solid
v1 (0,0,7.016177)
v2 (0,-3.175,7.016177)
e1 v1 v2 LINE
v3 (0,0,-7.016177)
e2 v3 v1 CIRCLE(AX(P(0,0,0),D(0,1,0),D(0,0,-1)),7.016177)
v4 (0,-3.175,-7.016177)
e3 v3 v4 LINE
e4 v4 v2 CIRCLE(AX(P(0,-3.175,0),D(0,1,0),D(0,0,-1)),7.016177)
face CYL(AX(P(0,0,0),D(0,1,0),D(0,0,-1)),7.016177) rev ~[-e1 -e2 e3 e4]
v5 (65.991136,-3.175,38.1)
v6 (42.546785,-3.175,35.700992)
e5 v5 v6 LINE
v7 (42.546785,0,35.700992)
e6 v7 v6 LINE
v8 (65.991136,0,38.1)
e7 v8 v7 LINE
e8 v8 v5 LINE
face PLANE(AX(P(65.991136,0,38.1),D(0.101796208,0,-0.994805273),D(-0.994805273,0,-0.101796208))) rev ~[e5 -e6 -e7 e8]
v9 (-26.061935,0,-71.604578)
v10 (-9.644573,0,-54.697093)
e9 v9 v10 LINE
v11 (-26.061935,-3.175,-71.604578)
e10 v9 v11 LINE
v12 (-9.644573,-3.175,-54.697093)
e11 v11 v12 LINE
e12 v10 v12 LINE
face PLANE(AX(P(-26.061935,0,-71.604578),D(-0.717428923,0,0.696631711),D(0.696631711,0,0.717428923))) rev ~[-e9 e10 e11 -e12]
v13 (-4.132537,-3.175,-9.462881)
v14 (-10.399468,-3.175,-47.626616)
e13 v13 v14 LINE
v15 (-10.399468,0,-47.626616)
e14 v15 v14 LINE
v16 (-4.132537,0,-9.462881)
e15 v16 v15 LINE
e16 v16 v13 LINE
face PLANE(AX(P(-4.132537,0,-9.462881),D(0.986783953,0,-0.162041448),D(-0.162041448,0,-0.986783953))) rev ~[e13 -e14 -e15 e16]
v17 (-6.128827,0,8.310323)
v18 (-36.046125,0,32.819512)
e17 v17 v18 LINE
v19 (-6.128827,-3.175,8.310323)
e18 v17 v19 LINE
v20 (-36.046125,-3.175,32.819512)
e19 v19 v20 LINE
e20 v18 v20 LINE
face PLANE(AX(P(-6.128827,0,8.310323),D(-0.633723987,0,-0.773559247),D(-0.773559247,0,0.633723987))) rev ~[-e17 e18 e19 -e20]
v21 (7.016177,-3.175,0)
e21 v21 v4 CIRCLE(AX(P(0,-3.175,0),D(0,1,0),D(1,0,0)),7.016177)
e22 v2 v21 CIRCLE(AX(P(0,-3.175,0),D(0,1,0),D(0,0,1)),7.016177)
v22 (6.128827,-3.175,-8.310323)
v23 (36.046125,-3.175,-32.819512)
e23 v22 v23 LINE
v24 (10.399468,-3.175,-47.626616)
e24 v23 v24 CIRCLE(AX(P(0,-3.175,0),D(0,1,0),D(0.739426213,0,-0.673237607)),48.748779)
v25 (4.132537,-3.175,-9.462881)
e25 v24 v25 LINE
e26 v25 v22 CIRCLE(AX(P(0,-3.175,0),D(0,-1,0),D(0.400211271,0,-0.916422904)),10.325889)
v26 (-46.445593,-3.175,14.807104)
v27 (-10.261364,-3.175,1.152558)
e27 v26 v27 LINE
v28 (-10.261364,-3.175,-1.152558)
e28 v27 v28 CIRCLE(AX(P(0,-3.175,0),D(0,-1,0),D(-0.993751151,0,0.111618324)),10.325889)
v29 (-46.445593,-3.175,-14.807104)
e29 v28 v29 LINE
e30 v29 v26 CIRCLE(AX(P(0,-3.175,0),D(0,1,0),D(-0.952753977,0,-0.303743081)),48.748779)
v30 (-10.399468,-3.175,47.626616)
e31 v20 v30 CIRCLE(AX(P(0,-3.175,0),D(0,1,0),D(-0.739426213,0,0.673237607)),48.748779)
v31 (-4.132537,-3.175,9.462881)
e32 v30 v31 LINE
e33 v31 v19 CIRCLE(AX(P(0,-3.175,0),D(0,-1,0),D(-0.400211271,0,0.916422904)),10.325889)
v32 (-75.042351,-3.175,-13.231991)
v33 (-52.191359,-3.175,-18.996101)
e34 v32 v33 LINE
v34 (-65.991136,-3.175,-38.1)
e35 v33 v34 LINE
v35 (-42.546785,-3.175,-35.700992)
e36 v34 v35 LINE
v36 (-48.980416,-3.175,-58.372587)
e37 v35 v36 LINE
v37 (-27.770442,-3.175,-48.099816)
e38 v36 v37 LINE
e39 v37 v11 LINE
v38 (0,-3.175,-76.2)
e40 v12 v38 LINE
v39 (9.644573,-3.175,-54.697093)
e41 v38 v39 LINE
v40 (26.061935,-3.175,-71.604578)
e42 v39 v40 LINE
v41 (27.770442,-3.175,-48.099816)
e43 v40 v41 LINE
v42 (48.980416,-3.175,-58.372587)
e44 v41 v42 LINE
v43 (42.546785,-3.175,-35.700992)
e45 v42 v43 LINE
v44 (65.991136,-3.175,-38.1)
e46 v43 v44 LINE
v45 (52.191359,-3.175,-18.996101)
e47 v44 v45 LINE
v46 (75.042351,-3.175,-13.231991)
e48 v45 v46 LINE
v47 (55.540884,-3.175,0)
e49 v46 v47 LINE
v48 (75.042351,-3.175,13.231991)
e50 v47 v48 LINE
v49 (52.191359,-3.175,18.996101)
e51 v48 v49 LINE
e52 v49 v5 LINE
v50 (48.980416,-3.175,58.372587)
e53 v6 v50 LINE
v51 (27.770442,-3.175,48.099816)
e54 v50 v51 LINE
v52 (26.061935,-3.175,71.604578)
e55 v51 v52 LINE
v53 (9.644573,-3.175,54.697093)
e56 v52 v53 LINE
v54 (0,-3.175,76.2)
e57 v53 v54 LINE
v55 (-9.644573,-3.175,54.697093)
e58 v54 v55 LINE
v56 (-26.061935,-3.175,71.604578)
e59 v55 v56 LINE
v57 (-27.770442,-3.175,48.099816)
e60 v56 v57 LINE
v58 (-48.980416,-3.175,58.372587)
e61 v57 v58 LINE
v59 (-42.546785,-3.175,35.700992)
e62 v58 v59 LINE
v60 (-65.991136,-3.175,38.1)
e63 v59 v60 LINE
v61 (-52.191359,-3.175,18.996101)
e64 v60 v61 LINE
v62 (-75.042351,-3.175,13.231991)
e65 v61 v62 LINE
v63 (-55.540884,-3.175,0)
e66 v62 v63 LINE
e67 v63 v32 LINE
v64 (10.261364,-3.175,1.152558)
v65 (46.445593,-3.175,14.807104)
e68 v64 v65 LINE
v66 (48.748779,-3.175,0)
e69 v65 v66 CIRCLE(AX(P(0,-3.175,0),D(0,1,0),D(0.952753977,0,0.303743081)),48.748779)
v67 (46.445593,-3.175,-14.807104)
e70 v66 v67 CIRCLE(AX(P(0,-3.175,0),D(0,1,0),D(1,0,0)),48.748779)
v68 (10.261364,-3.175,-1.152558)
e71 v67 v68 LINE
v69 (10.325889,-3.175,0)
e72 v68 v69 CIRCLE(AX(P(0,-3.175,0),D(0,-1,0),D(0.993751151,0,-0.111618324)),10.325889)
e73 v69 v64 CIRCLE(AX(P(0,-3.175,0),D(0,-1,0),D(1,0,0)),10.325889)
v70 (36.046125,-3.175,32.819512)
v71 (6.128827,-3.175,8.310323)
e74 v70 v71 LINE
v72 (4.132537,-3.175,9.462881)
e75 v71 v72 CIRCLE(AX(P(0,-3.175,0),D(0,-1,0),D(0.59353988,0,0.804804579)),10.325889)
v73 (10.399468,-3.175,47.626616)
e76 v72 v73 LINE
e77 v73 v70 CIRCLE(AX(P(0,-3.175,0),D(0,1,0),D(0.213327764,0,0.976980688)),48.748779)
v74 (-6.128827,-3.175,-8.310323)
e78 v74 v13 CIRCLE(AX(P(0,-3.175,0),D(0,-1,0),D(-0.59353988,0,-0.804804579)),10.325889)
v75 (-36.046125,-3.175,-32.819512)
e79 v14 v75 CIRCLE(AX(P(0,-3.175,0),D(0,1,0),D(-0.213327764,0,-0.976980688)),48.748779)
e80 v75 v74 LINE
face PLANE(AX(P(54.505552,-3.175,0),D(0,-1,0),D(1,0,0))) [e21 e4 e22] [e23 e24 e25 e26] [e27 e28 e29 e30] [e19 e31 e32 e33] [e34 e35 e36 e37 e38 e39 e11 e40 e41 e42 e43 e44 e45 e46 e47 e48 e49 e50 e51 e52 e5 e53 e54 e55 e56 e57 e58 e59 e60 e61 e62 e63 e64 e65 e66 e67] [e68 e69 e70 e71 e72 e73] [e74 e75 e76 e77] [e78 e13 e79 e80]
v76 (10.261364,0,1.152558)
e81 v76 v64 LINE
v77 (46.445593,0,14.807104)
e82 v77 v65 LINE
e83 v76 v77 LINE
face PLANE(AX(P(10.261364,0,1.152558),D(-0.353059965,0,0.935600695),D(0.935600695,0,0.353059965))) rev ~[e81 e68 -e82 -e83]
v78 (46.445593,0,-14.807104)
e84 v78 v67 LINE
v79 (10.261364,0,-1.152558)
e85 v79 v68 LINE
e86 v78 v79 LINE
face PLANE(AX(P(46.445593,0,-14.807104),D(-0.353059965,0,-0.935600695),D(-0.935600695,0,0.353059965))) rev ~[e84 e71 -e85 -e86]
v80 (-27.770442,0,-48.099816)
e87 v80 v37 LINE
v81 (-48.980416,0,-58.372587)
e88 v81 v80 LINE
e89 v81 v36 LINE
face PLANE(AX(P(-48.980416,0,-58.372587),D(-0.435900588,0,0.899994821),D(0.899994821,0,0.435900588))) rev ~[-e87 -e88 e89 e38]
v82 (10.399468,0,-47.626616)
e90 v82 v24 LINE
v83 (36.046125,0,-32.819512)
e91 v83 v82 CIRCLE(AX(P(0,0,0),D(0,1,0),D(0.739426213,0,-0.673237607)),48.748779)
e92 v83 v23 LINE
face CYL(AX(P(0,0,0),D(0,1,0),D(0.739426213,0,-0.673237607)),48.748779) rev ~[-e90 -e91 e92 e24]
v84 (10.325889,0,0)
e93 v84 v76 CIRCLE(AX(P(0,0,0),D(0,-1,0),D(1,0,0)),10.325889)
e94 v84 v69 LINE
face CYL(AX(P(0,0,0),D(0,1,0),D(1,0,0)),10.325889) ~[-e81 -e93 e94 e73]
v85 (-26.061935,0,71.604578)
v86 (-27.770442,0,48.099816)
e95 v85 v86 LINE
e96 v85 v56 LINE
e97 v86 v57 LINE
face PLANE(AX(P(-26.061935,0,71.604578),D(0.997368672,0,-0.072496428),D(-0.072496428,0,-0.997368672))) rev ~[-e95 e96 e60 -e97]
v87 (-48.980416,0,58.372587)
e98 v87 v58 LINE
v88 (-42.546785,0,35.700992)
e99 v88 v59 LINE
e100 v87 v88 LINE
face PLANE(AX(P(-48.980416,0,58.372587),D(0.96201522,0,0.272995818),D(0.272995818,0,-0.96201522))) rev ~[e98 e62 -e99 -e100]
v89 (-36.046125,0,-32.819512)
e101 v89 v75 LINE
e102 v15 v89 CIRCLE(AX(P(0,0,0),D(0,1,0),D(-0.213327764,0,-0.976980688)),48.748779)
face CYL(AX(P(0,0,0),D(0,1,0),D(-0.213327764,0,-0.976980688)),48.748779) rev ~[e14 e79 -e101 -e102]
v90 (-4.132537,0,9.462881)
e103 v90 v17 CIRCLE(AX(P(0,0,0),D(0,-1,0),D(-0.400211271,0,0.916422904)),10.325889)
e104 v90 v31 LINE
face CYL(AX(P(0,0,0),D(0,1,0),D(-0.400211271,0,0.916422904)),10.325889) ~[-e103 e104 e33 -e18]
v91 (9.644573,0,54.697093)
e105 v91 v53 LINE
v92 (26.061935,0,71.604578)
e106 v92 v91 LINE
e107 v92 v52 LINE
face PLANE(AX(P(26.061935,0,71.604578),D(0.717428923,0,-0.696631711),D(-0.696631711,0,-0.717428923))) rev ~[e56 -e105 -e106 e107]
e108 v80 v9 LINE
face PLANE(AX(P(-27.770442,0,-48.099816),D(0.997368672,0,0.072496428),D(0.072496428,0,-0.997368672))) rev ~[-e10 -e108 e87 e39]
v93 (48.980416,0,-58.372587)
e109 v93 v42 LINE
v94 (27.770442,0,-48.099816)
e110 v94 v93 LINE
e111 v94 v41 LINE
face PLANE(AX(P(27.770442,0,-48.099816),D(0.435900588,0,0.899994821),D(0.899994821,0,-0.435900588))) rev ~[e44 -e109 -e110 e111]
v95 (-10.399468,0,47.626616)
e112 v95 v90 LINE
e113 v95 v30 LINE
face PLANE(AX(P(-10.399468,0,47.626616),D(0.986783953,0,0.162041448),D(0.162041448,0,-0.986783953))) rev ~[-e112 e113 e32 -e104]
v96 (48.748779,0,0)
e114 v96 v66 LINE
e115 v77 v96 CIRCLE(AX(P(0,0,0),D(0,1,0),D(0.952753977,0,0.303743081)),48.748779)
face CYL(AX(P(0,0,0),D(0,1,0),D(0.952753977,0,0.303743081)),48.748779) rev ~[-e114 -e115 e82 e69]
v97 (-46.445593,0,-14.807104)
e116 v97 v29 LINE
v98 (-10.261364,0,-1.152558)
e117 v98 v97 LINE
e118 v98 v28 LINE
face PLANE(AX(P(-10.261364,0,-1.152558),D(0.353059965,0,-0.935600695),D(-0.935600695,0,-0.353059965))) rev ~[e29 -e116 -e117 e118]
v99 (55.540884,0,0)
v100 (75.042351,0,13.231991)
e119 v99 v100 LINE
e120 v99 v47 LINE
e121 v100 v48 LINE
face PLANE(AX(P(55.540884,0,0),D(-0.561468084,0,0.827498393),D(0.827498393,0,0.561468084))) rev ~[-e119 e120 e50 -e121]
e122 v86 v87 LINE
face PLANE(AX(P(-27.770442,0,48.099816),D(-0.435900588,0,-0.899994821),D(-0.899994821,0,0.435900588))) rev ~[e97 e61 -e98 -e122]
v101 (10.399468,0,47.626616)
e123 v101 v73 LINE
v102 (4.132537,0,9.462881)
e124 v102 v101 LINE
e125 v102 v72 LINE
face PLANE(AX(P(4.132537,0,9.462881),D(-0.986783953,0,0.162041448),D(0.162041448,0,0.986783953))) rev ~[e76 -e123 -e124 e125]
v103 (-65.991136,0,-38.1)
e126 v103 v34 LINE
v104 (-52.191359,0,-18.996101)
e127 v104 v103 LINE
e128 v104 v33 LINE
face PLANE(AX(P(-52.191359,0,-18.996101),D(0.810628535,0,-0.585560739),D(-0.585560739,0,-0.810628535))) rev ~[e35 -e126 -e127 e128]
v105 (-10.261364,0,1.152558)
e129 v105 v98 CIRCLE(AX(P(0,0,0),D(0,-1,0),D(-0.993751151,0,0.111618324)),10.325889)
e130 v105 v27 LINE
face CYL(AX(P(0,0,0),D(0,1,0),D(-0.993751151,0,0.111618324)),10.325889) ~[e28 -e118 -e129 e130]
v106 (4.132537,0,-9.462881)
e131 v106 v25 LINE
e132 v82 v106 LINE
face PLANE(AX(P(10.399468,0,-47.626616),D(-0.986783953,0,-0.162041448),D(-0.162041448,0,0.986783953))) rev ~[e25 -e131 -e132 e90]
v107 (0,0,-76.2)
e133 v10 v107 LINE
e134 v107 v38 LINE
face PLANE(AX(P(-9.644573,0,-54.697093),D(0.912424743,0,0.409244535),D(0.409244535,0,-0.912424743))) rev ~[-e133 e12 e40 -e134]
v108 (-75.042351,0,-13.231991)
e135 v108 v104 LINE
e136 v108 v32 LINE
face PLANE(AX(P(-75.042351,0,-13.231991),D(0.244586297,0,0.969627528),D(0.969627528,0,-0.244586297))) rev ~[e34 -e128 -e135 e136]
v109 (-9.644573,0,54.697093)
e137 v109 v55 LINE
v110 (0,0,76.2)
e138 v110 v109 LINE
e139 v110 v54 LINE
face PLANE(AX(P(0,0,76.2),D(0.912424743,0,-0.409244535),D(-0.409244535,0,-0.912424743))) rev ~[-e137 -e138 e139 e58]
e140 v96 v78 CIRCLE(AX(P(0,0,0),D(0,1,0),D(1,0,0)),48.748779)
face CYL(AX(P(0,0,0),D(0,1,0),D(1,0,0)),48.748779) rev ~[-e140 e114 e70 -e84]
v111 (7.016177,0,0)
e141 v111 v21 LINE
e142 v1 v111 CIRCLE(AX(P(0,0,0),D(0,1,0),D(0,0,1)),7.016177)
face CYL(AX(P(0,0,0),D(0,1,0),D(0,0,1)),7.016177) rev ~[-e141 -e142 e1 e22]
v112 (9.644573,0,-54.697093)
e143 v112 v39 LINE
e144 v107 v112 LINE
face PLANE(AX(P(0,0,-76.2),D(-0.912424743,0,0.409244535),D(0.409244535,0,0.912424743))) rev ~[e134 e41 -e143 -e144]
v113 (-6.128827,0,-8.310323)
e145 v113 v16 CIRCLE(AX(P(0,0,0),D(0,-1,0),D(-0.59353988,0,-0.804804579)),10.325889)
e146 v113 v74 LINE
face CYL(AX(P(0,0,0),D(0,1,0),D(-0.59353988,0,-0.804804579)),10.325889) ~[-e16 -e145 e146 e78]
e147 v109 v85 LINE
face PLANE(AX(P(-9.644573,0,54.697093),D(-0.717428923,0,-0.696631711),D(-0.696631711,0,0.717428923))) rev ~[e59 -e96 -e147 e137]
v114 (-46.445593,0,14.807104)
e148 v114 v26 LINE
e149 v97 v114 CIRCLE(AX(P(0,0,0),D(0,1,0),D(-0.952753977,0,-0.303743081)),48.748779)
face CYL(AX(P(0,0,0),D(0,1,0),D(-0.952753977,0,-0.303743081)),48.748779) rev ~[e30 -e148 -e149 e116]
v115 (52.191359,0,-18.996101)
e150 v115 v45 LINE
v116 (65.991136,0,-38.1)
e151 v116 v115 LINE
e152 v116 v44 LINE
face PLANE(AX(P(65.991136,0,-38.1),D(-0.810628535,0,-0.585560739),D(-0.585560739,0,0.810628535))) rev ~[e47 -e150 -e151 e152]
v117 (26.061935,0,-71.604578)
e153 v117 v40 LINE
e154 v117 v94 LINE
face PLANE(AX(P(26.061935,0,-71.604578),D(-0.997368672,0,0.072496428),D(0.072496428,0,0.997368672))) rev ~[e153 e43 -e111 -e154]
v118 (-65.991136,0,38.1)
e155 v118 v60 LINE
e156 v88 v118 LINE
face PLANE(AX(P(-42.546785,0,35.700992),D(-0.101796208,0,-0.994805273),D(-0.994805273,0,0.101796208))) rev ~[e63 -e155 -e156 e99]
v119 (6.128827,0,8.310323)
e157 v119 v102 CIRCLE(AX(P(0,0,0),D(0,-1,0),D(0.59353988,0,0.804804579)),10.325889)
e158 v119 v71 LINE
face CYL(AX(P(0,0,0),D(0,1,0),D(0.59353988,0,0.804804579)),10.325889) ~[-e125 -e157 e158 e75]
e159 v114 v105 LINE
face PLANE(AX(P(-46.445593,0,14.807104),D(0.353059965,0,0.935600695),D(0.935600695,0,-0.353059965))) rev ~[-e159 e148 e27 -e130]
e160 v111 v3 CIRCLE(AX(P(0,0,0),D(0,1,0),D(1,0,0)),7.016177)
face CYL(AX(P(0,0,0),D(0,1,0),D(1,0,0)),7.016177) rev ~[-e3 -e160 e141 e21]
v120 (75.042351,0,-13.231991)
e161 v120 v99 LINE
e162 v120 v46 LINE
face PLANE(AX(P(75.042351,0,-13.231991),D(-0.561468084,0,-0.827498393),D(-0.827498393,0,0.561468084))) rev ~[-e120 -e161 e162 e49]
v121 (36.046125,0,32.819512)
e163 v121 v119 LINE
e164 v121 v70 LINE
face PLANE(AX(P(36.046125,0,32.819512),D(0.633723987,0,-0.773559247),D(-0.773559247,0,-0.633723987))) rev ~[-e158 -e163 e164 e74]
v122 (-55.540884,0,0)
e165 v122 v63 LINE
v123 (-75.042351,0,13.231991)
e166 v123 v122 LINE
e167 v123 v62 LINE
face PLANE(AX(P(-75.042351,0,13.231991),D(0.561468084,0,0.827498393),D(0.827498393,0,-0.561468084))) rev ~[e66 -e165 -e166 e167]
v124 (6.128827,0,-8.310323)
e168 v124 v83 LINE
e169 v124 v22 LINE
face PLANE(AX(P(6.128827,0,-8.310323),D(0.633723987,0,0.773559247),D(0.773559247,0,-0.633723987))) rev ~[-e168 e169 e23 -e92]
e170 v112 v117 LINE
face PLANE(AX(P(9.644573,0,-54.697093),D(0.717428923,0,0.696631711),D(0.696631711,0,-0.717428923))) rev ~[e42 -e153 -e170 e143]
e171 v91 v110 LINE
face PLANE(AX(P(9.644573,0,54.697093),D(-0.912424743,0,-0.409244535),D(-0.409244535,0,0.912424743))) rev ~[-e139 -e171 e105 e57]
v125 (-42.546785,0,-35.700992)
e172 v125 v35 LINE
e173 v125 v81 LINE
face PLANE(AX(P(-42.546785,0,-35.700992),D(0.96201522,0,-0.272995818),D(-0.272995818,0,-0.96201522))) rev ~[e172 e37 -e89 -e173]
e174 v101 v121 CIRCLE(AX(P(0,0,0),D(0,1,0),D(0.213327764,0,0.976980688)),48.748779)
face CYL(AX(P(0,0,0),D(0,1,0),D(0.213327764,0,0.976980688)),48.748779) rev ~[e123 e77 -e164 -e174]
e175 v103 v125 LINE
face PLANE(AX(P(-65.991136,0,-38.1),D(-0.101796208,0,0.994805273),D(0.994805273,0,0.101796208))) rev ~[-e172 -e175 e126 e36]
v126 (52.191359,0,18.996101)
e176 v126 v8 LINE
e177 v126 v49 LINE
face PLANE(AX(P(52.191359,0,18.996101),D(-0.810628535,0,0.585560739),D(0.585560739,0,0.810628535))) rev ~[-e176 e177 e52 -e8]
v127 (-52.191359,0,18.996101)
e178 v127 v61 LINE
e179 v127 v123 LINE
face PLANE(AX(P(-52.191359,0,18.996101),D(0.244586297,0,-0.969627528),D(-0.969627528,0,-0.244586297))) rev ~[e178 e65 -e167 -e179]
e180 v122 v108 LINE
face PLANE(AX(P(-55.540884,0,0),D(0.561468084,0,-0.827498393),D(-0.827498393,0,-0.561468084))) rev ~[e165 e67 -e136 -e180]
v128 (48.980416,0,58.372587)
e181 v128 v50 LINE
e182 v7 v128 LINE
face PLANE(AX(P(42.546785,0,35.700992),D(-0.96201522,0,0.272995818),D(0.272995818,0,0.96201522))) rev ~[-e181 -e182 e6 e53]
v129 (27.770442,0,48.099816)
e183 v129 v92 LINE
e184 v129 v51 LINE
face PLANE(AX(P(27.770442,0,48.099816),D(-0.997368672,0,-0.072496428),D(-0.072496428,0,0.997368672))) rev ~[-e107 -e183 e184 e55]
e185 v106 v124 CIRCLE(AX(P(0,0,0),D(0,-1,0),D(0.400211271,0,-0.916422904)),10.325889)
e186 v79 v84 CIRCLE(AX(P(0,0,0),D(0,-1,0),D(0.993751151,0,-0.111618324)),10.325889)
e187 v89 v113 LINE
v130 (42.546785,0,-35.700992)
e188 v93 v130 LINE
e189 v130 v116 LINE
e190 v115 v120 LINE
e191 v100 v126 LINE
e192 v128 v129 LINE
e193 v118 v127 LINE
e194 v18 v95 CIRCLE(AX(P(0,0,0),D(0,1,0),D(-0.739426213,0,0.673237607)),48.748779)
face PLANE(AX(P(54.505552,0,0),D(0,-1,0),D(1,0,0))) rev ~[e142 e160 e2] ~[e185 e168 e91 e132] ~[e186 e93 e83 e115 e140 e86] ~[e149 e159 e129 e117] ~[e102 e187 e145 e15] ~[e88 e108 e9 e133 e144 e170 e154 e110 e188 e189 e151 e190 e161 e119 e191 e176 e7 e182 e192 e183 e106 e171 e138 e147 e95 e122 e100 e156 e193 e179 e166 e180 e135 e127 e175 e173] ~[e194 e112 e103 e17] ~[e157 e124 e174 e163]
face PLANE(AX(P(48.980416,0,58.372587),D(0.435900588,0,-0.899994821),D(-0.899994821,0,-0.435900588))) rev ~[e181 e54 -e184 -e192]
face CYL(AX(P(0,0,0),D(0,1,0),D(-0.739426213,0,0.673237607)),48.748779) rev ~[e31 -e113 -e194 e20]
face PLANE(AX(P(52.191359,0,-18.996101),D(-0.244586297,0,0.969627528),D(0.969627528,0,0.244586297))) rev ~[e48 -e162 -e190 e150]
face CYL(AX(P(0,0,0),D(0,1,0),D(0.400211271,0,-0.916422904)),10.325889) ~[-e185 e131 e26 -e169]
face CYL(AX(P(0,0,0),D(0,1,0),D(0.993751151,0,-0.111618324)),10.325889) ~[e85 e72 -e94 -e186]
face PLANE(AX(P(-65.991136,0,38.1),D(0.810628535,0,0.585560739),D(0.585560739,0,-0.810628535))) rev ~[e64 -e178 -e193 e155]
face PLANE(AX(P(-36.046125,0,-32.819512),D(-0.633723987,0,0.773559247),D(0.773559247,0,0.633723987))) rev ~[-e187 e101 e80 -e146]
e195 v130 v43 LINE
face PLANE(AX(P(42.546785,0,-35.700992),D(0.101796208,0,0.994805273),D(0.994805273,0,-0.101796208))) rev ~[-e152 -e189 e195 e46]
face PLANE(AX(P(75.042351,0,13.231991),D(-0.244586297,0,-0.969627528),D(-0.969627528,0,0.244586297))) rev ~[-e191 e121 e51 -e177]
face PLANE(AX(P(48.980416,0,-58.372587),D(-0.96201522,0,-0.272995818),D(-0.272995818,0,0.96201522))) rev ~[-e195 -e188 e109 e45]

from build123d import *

# Parameters (mm, degrees)
F1_DEPTH = 3.175


with BuildPart() as f1:
    # F0 (on Front) → F1 (new body)
    with BuildSketch(Plane.XZ):
        with BuildLine():
            ThreePointArc((54.0144752369, 1.0356873286), (54.0219214454, 0.5178674576), (54.0244035909, 0))
            ThreePointArc((54.0244035909, 0), (54.0219214454, -0.5178674576), (54.0144752369, -1.0356873286))
            Line((54.0144752369, -1.0356873286), (55.5408836359, 0))
            Line((55.5408836359, 0), (54.0144752369, 1.0356873286))
        make_face()
        with BuildLine():
            ThreePointArc((51.1112297243, 17.5008108221), (53.2036515082, 9.3812392331), (54.0144752369, 1.0356873286))
            Line((54.0144752369, 1.0356873286), (55.5408836359, 0))
            Line((55.5408836359, 0), (75.0423507795, 13.2319911382))
            Line((75.0423507795, 13.2319911382), (52.1913585045, 18.9961009816))
            Line((52.1913585045, 18.9961009816), (51.1112297243, 17.5008108221))
        make_face()
        with BuildLine():
            Line((55.5408836359, 0), (54.0144752369, -1.0356873286))
            ThreePointArc((54.0144752369, -1.0356873286), (53.2036515082, -9.3812392331), (51.1112297243, -17.5008108221))
            Line((51.1112297243, -17.5008108221), (52.1913585045, -18.9961009816))
            Line((52.1913585045, -18.9961009816), (75.0423507795, -13.2319911382))
            Line((75.0423507795, -13.2319911382), (55.5408836359, 0))
        make_face()
        with BuildLine():
            ThreePointArc((50.4027778671, 19.4472663023), (50.7663333968, 18.4774342593), (51.1112297243, 17.5008108221))
            Line((51.1112297243, 17.5008108221), (52.1913585045, 18.9961009816))
            Line((52.1913585045, 18.9961009816), (50.4027778671, 19.4472663023))
        make_face()
        with BuildLine():
            Line((52.1913585045, -18.9961009816), (51.1112297243, -17.5008108221))
            ThreePointArc((51.1112297243, -17.5008108221), (50.7663333968, -18.4774342593), (50.4027778671, -19.4472663023))
            Line((50.4027778671, -19.4472663023), (52.1913585045, -18.9961009816))
        make_face()
        with BuildLine():
            ThreePointArc((42.0432155855, 33.9264529031), (46.786505934, 27.0122017955), (50.4027778671, 19.4472663023))
            Line((50.4027778671, 19.4472663023), (52.1913585045, 18.9961009816))
            Line((52.1913585045, 18.9961009816), (65.9911357684, 38.1))
            Line((65.9911357684, 38.1), (42.5467852752, 35.7009918322))
            Line((42.5467852752, 35.7009918322), (42.0432155855, 33.9264529031))
        make_face()
        with BuildLine():
            Line((52.1913585045, -18.9961009816), (50.4027778671, -19.4472663023))
            ThreePointArc((50.4027778671, -19.4472663023), (46.786505934, -27.0122017955), (42.0432155855, -33.9264529031))
            Line((42.0432155855, -33.9264529031), (42.5467852752, -35.7009918322))
            Line((42.5467852752, -35.7009918322), (65.9911357684, -38.1))
            Line((65.9911357684, -38.1), (52.1913585045, -18.9961009816))
        make_face()
        with BuildLine():
            ThreePointArc((40.7117616209, 35.5132179488), (41.3850941636, 34.726217249), (42.0432155855, 33.9264529031))
            Line((42.0432155855, 33.9264529031), (42.5467852752, 35.7009918322))
            Line((42.5467852752, 35.7009918322), (40.7117616209, 35.5132179488))
        make_face()
        with BuildLine():
            Line((42.5467852752, -35.7009918322), (42.0432155855, -33.9264529031))
            ThreePointArc((42.0432155855, -33.9264529031), (41.3850941636, -34.726217249), (40.7117616209, -35.5132179488))
            Line((40.7117616209, -35.5132179488), (42.5467852752, -35.7009918322))
        make_face()
        with BuildLine():
            ThreePointArc((27.9041691553, 46.2600640629), (34.726217249, 41.3850941636), (40.7117616209, 35.5132179488))
            Line((40.7117616209, 35.5132179488), (42.5467852752, 35.7009918322))
            Line((42.5467852752, 35.7009918322), (48.9804158581, 58.3725865657))
            Line((48.9804158581, 58.3725865657), (27.7704418179, 48.0998161773))
            Line((27.7704418179, 48.0998161773), (27.9041691553, 46.2600640629))
        make_face()
        with BuildLine():
            Line((42.5467852752, -35.7009918322), (40.7117616209, -35.5132179488))
            ThreePointArc((40.7117616209, -35.5132179488), (34.726217249, -41.3850941636), (27.9041691553, -46.2600640629))
            Line((27.9041691553, -46.2600640629), (27.7704418179, -48.0998161773))
            Line((27.7704418179, -48.0998161773), (48.9804158581, -58.3725865657))
            Line((48.9804158581, -58.3725865657), (42.5467852752, -35.7009918322))
        make_face()
        with BuildLine():
            ThreePointArc((26.1103060815, 47.2957513915), (27.0122017955, 46.786505934), (27.9041691553, 46.2600640629))
            Line((27.9041691553, 46.2600640629), (27.7704418179, 48.0998161773))
            Line((27.7704418179, 48.0998161773), (26.1103060815, 47.2957513915))
        make_face()
        with BuildLine():
            Line((27.7704418179, -48.0998161773), (27.9041691553, -46.2600640629))
            ThreePointArc((27.9041691553, -46.2600640629), (27.0122017955, -46.786505934), (26.1103060815, -47.2957513915))
            Line((26.1103060815, -47.2957513915), (27.7704418179, -48.0998161773))
        make_face()
        with BuildLine():
            ThreePointArc((10.3994681034, 53.0140287709), (18.4774342593, 50.7663333968), (26.1103060815, 47.2957513915))
            Line((26.1103060815, 47.2957513915), (27.7704418179, 48.0998161773))
            Line((27.7704418179, 48.0998161773), (26.0619349214, 71.6045777039))
            Line((26.0619349214, 71.6045777039), (9.6445732294, 54.6970928137))
            Line((9.6445732294, 54.6970928137), (10.3994681034, 53.0140287709))
        make_face()
        with BuildLine():
            Line((27.7704418179, -48.0998161773), (26.1103060815, -47.2957513915))
            ThreePointArc((26.1103060815, -47.2957513915), (18.4774342593, -50.7663333968), (10.3994681034, -53.0140287709))
            Line((10.3994681034, -53.0140287709), (9.6445732294, -54.6970928137))
            Line((9.6445732294, -54.6970928137), (26.0619349214, -71.6045777039))
            Line((26.0619349214, -71.6045777039), (27.7704418179, -48.0998161773))
        make_face()
        with BuildLine():
            ThreePointArc((8.3595622817, 53.3737192054), (9.3812392331, 53.2036515082), (10.3994681034, 53.0140287709))
            Line((10.3994681034, 53.0140287709), (9.6445732294, 54.6970928137))
            Line((9.6445732294, 54.6970928137), (8.3595622817, 53.3737192054))
        make_face()
        with BuildLine():
            Line((9.6445732294, -54.6970928137), (10.3994681034, -53.0140287709))
            ThreePointArc((10.3994681034, -53.0140287709), (9.3812392331, -53.2036515082), (8.3595622817, -53.3737192054))
            Line((8.3595622817, -53.3737192054), (9.6445732294, -54.6970928137))
        make_face()
        with BuildLine():
            ThreePointArc((0, 54.0244035909), (4.1924238726, 53.8614868475), (8.3595622817, 53.3737192054))
            Line((8.3595622817, 53.3737192054), (9.6445732294, 54.6970928137))
            Line((9.6445732294, 54.6970928137), (0, 76.2))
            Line((0, 76.2), (-9.6445732294, 54.6970928137))
            Line((-9.6445732294, 54.6970928137), (-8.3595622817, 53.3737192054))
            ThreePointArc((-8.3595622817, 53.3737192054), (-4.1924238726, 53.8614868475), (0, 54.0244035909))
        make_face()
        with BuildLine():
            Line((9.6445732294, -54.6970928137), (8.3595622817, -53.3737192054))
            ThreePointArc((8.3595622817, -53.3737192054), (4.1924238726, -53.8614868475), (0, -54.0244035909))
            ThreePointArc((0, -54.0244035909), (-4.1924238726, -53.8614868475), (-8.3595622817, -53.3737192054))
            Line((-8.3595622817, -53.3737192054), (-9.6445732294, -54.6970928137))
            Line((-9.6445732294, -54.6970928137), (0, -76.2))
            Line((0, -76.2), (9.6445732294, -54.6970928137))
        make_face()
        with BuildLine():
            ThreePointArc((-10.3994681034, 53.0140287709), (-9.3812392331, 53.2036515082), (-8.3595622817, 53.3737192054))
            Line((-8.3595622817, 53.3737192054), (-9.6445732294, 54.6970928137))
            Line((-9.6445732294, 54.6970928137), (-10.3994681034, 53.0140287709))
        make_face()
        with BuildLine():
            Line((-10.3994681034, 53.0140287709), (-9.6445732294, 54.6970928137))
            Line((-9.6445732294, 54.6970928137), (-26.0619349214, 71.6045777039))
            Line((-26.0619349214, 71.6045777039), (-27.7704418179, 48.0998161773))
            Line((-27.7704418179, 48.0998161773), (-26.1103060815, 47.2957513915))
            ThreePointArc((-26.1103060815, 47.2957513915), (-18.4774342593, 50.7663333968), (-10.3994681034, 53.0140287709))
        make_face()
        with BuildLine():
            Line((-9.6445732294, -54.6970928137), (-8.3595622817, -53.3737192054))
            ThreePointArc((-8.3595622817, -53.3737192054), (-9.3812392331, -53.2036515082), (-10.3994681034, -53.0140287709))
            Line((-10.3994681034, -53.0140287709), (-9.6445732294, -54.6970928137))
        make_face()
        with BuildLine():
            Line((-26.0619349214, -71.6045777039), (-9.6445732294, -54.6970928137))
            Line((-9.6445732294, -54.6970928137), (-10.3994681034, -53.0140287709))
            ThreePointArc((-10.3994681034, -53.0140287709), (-18.4774342593, -50.7663333968), (-26.1103060815, -47.2957513915))
            Line((-26.1103060815, -47.2957513915), (-27.7704418179, -48.0998161773))
            Line((-27.7704418179, -48.0998161773), (-26.0619349214, -71.6045777039))
        make_face()
        with BuildLine():
            ThreePointArc((-27.9041691553, 46.2600640629), (-27.0122017955, 46.786505934), (-26.1103060815, 47.2957513915))
            Line((-26.1103060815, 47.2957513915), (-27.7704418179, 48.0998161773))
            Line((-27.7704418179, 48.0998161773), (-27.9041691553, 46.2600640629))
        make_face()
        with BuildLine():
            Line((-27.9041691553, 46.2600640629), (-27.7704418179, 48.0998161773))
            Line((-27.7704418179, 48.0998161773), (-48.9804158581, 58.3725865657))
            Line((-48.9804158581, 58.3725865657), (-42.5467852752, 35.7009918322))
            Line((-42.5467852752, 35.7009918322), (-40.7117616209, 35.5132179488))
            ThreePointArc((-40.7117616209, 35.5132179488), (-34.726217249, 41.3850941636), (-27.9041691553, 46.2600640629))
        make_face()
        with BuildLine():
            Line((-27.7704418179, -48.0998161773), (-26.1103060815, -47.2957513915))
            ThreePointArc((-26.1103060815, -47.2957513915), (-27.0122017955, -46.786505934), (-27.9041691553, -46.2600640629))
            Line((-27.9041691553, -46.2600640629), (-27.7704418179, -48.0998161773))
        make_face()
        with BuildLine():
            Line((-48.9804158581, -58.3725865657), (-27.7704418179, -48.0998161773))
            Line((-27.7704418179, -48.0998161773), (-27.9041691553, -46.2600640629))
            ThreePointArc((-27.9041691553, -46.2600640629), (-34.726217249, -41.3850941636), (-40.7117616209, -35.5132179488))
            Line((-40.7117616209, -35.5132179488), (-42.5467852752, -35.7009918322))
            Line((-42.5467852752, -35.7009918322), (-48.9804158581, -58.3725865657))
        make_face()
        with BuildLine():
            ThreePointArc((-42.0432155855, 33.9264529031), (-41.3850941636, 34.726217249), (-40.7117616209, 35.5132179488))
            Line((-40.7117616209, 35.5132179488), (-42.5467852752, 35.7009918322))
            Line((-42.5467852752, 35.7009918322), (-42.0432155855, 33.9264529031))
        make_face()
        with BuildLine():
            Line((-42.0432155855, 33.9264529031), (-42.5467852752, 35.7009918322))
            Line((-42.5467852752, 35.7009918322), (-65.9911357684, 38.1))
            Line((-65.9911357684, 38.1), (-52.1913585045, 18.9961009816))
            Line((-52.1913585045, 18.9961009816), (-50.4027778671, 19.4472663023))
            ThreePointArc((-50.4027778671, 19.4472663023), (-46.786505934, 27.0122017955), (-42.0432155855, 33.9264529031))
        make_face()
        with BuildLine():
            Line((-42.5467852752, -35.7009918322), (-40.7117616209, -35.5132179488))
            ThreePointArc((-40.7117616209, -35.5132179488), (-41.3850941636, -34.726217249), (-42.0432155855, -33.9264529031))
            Line((-42.0432155855, -33.9264529031), (-42.5467852752, -35.7009918322))
        make_face()
        with BuildLine():
            Line((-65.9911357684, -38.1), (-42.5467852752, -35.7009918322))
            Line((-42.5467852752, -35.7009918322), (-42.0432155855, -33.9264529031))
            ThreePointArc((-42.0432155855, -33.9264529031), (-46.786505934, -27.0122017955), (-50.4027778671, -19.4472663023))
            Line((-50.4027778671, -19.4472663023), (-52.1913585045, -18.9961009816))
            Line((-52.1913585045, -18.9961009816), (-65.9911357684, -38.1))
        make_face()
        with BuildLine():
            ThreePointArc((-51.1112297243, 17.5008108221), (-50.7663333968, 18.4774342593), (-50.4027778671, 19.4472663023))
            Line((-50.4027778671, 19.4472663023), (-52.1913585045, 18.9961009816))
            Line((-52.1913585045, 18.9961009816), (-51.1112297243, 17.5008108221))
        make_face()
        with BuildLine():
            Line((-51.1112297243, 17.5008108221), (-52.1913585045, 18.9961009816))
            Line((-52.1913585045, 18.9961009816), (-75.0423507795, 13.2319911382))
            Line((-75.0423507795, 13.2319911382), (-55.5408836359, 0))
            Line((-55.5408836359, 0), (-54.0144752369, 1.0356873286))
            ThreePointArc((-54.0144752369, 1.0356873286), (-53.2036515082, 9.3812392331), (-51.1112297243, 17.5008108221))
        make_face()
        with BuildLine():
            Line((-52.1913585045, -18.9961009816), (-50.4027778671, -19.4472663023))
            ThreePointArc((-50.4027778671, -19.4472663023), (-50.7663333968, -18.4774342593), (-51.1112297243, -17.5008108221))
            Line((-51.1112297243, -17.5008108221), (-52.1913585045, -18.9961009816))
        make_face()
        with BuildLine():
            Line((-75.0423507795, -13.2319911382), (-52.1913585045, -18.9961009816))
            Line((-52.1913585045, -18.9961009816), (-51.1112297243, -17.5008108221))
            ThreePointArc((-51.1112297243, -17.5008108221), (-53.2036515082, -9.3812392331), (-54.0144752369, -1.0356873286))
            Line((-54.0144752369, -1.0356873286), (-55.5408836359, 0))
            Line((-55.5408836359, 0), (-75.0423507795, -13.2319911382))
        make_face()
        with BuildLine():
            ThreePointArc((-54.0144752369, -1.0356873286), (-54.0244035909, 0), (-54.0144752369, 1.0356873286))
            Line((-54.0144752369, 1.0356873286), (-55.5408836359, 0))
            Line((-55.5408836359, 0), (-54.0144752369, -1.0356873286))
        make_face()
        with BuildLine():
            Line((-6.1288269347, 8.3103227771), (-36.0461253584, 32.8195115967))
            ThreePointArc((-36.0461253584, 32.8195115967), (-42.2176813799, 24.3743897093), (-46.4455934617, 14.80710447))
            Line((-46.4455934617, 14.80710447), (-10.261364106, 1.1525584323))
            ThreePointArc((-10.261364106, 1.1525584323), (-8.9424822164, 5.1629445149), (-6.1288269347, 8.3103227771))
        make_face()
        with BuildLine():
            Line((0, 48.7487794185), (0, 54.0244035909))
            ThreePointArc((0, 54.0244035909), (-4.1924238726, 53.8614868475), (-8.3595622817, 53.3737192054))
            ThreePointArc((-8.3595622817, 53.3737192054), (-9.3812392331, 53.2036515082), (-10.3994681034, 53.0140287709))
            ThreePointArc((-10.3994681034, 53.0140287709), (-18.4774342593, 50.7663333968), (-26.1103060815, 47.2957513915))
            ThreePointArc((-26.1103060815, 47.2957513915), (-27.0122017955, 46.786505934), (-27.9041691553, 46.2600640629))
            ThreePointArc((-27.9041691553, 46.2600640629), (-34.726217249, 41.3850941636), (-40.7117616209, 35.5132179488))
            ThreePointArc((-40.7117616209, 35.5132179488), (-41.3850941636, 34.726217249), (-42.0432155855, 33.9264529031))
            ThreePointArc((-42.0432155855, 33.9264529031), (-46.786505934, 27.0122017955), (-50.4027778671, 19.4472663023))
            ThreePointArc((-50.4027778671, 19.4472663023), (-50.7663333968, 18.4774342593), (-51.1112297243, 17.5008108221))
            ThreePointArc((-51.1112297243, 17.5008108221), (-53.2036515082, 9.3812392331), (-54.0144752369, 1.0356873286))
            ThreePointArc((-54.0144752369, 1.0356873286), (-54.0244035909, 0), (-54.0144752369, -1.0356873286))
            ThreePointArc((-54.0144752369, -1.0356873286), (-53.2036515082, -9.3812392331), (-51.1112297243, -17.5008108221))
            ThreePointArc((-51.1112297243, -17.5008108221), (-50.7663333968, -18.4774342593), (-50.4027778671, -19.4472663023))
            ThreePointArc((-50.4027778671, -19.4472663023), (-46.786505934, -27.0122017955), (-42.0432155855, -33.9264529031))
            ThreePointArc((-42.0432155855, -33.9264529031), (-41.3850941636, -34.726217249), (-40.7117616209, -35.5132179488))
            ThreePointArc((-40.7117616209, -35.5132179488), (-34.726217249, -41.3850941636), (-27.9041691553, -46.2600640629))
            ThreePointArc((-27.9041691553, -46.2600640629), (-27.0122017955, -46.786505934), (-26.1103060815, -47.2957513915))
            ThreePointArc((-26.1103060815, -47.2957513915), (-18.4774342593, -50.7663333968), (-10.3994681034, -53.0140287709))
            ThreePointArc((-10.3994681034, -53.0140287709), (-9.3812392331, -53.2036515082), (-8.3595622817, -53.3737192054))
            ThreePointArc((-8.3595622817, -53.3737192054), (-4.1924238726, -53.8614868475), (0, -54.0244035909))
            Line((0, -54.0244035909), (0, -48.7487794185))
            ThreePointArc((0, -48.7487794185), (-5.2299184368, -48.4674266693), (-10.3994681034, -47.6266160667))
            ThreePointArc((-10.3994681034, -47.6266160667), (-24.3743897093, -42.2176813799), (-36.0461253584, -32.8195115967))
            ThreePointArc((-36.0461253584, -32.8195115967), (-42.2176813799, -24.3743897093), (-46.4455934617, -14.80710447))
            ThreePointArc((-46.4455934617, -14.80710447), (-48.7487794185, 0), (-46.4455934617, 14.80710447))
            ThreePointArc((-46.4455934617, 14.80710447), (-42.2176813799, 24.3743897093), (-36.0461253584, 32.8195115967))
            ThreePointArc((-36.0461253584, 32.8195115967), (-24.3743897093, 42.2176813799), (-10.3994681034, 47.6266160667))
            ThreePointArc((-10.3994681034, 47.6266160667), (-5.2299184368, 48.4674266693), (0, 48.7487794185))
        make_face()
        with BuildLine():
            ThreePointArc((54.0144752369, -1.0356873286), (54.0219214454, -0.5178674576), (54.0244035909, 0))
            ThreePointArc((54.0244035909, 0), (54.0219214454, 0.5178674576), (54.0144752369, 1.0356873286))
            ThreePointArc((54.0144752369, 1.0356873286), (53.2036515082, 9.3812392331), (51.1112297243, 17.5008108221))
            ThreePointArc((51.1112297243, 17.5008108221), (50.7663333968, 18.4774342593), (50.4027778671, 19.4472663023))
            ThreePointArc((50.4027778671, 19.4472663023), (46.786505934, 27.0122017955), (42.0432155855, 33.9264529031))
            ThreePointArc((42.0432155855, 33.9264529031), (41.3850941636, 34.726217249), (40.7117616209, 35.5132179488))
            ThreePointArc((40.7117616209, 35.5132179488), (34.726217249, 41.3850941636), (27.9041691553, 46.2600640629))
            ThreePointArc((27.9041691553, 46.2600640629), (27.0122017955, 46.786505934), (26.1103060815, 47.2957513915))
            ThreePointArc((26.1103060815, 47.2957513915), (18.4774342593, 50.7663333968), (10.3994681034, 53.0140287709))
            ThreePointArc((10.3994681034, 53.0140287709), (9.3812392331, 53.2036515082), (8.3595622817, 53.3737192054))
            ThreePointArc((8.3595622817, 53.3737192054), (4.1924238726, 53.8614868475), (0, 54.0244035909))
            Line((0, 54.0244035909), (0, 48.7487794185))
            ThreePointArc((0, 48.7487794185), (5.2299184368, 48.4674266693), (10.3994681034, 47.6266160667))
            ThreePointArc((10.3994681034, 47.6266160667), (24.3743897093, 42.2176813799), (36.0461253584, 32.8195115967))
            ThreePointArc((36.0461253584, 32.8195115967), (42.2176813799, 24.3743897093), (46.4455934617, 14.80710447))
            ThreePointArc((46.4455934617, 14.80710447), (48.1695416494, 7.4925798017), (48.7487794185, 0))
            ThreePointArc((48.7487794185, 0), (48.1695416494, -7.4925798017), (46.4455934617, -14.80710447))
            ThreePointArc((46.4455934617, -14.80710447), (42.2176813799, -24.3743897093), (36.0461253584, -32.8195115967))
            ThreePointArc((36.0461253584, -32.8195115967), (24.3743897093, -42.2176813799), (10.3994681034, -47.6266160667))
            ThreePointArc((10.3994681034, -47.6266160667), (5.2299184368, -48.4674266693), (0, -48.7487794185))
            Line((0, -48.7487794185), (0, -54.0244035909))
            ThreePointArc((0, -54.0244035909), (4.1924238726, -53.8614868475), (8.3595622817, -53.3737192054))
            ThreePointArc((8.3595622817, -53.3737192054), (9.3812392331, -53.2036515082), (10.3994681034, -53.0140287709))
            ThreePointArc((10.3994681034, -53.0140287709), (18.4774342593, -50.7663333968), (26.1103060815, -47.2957513915))
            ThreePointArc((26.1103060815, -47.2957513915), (27.0122017955, -46.786505934), (27.9041691553, -46.2600640629))
            ThreePointArc((27.9041691553, -46.2600640629), (34.726217249, -41.3850941636), (40.7117616209, -35.5132179488))
            ThreePointArc((40.7117616209, -35.5132179488), (41.3850941636, -34.726217249), (42.0432155855, -33.9264529031))
            ThreePointArc((42.0432155855, -33.9264529031), (46.786505934, -27.0122017955), (50.4027778671, -19.4472663023))
            ThreePointArc((50.4027778671, -19.4472663023), (50.7663333968, -18.4774342593), (51.1112297243, -17.5008108221))
            ThreePointArc((51.1112297243, -17.5008108221), (53.2036515082, -9.3812392331), (54.0144752369, -1.0356873286))
        make_face()
        with BuildLine():
            ThreePointArc((10.3994681034, 47.6266160667), (5.2299184368, 48.4674266693), (0, 48.7487794185))
            Line((0, 48.7487794185), (0, 10.3258890298))
            ThreePointArc((0, 10.3258890298), (2.1108437868, 10.1078347218), (4.1325371712, 9.4628812094))
            Line((4.1325371712, 9.4628812094), (10.3994681034, 47.6266160667))
        make_face()
        with BuildLine():
            Line((0, 10.3258890298), (0, 48.7487794185))
            ThreePointArc((0, 48.7487794185), (-5.2299184368, 48.4674266693), (-10.3994681034, 47.6266160667))
            Line((-10.3994681034, 47.6266160667), (-4.1325371712, 9.4628812094))
            ThreePointArc((-4.1325371712, 9.4628812094), (-2.1108437868, 10.1078347218), (0, 10.3258890298))
        make_face()
        with BuildLine():
            ThreePointArc((46.4455934617, 14.80710447), (42.2176813799, 24.3743897093), (36.0461253584, 32.8195115967))
            Line((36.0461253584, 32.8195115967), (6.1288269347, 8.3103227771))
            ThreePointArc((6.1288269347, 8.3103227771), (8.9424822164, 5.1629445149), (10.261364106, 1.1525584323))
            Line((10.261364106, 1.1525584323), (46.4455934617, 14.80710447))
        make_face()
        with BuildLine():
            Line((6.1288269347, -8.3103227771), (36.0461253584, -32.8195115967))
            ThreePointArc((36.0461253584, -32.8195115967), (42.2176813799, -24.3743897093), (46.4455934617, -14.80710447))
            Line((46.4455934617, -14.80710447), (10.261364106, -1.1525584323))
            ThreePointArc((10.261364106, -1.1525584323), (8.9424822164, -5.1629445149), (6.1288269347, -8.3103227771))
        make_face()
        with BuildLine():
            Line((0, -10.3258890298), (0, -48.7487794185))
            ThreePointArc((0, -48.7487794185), (5.2299184368, -48.4674266693), (10.3994681034, -47.6266160667))
            Line((10.3994681034, -47.6266160667), (4.1325371712, -9.4628812094))
            ThreePointArc((4.1325371712, -9.4628812094), (2.1108437868, -10.1078347218), (0, -10.3258890298))
        make_face()
        with BuildLine():
            ThreePointArc((-46.4455934617, -14.80710447), (-42.2176813799, -24.3743897093), (-36.0461253584, -32.8195115967))
            Line((-36.0461253584, -32.8195115967), (-6.1288269347, -8.3103227771))
            ThreePointArc((-6.1288269347, -8.3103227771), (-8.9424822164, -5.1629445149), (-10.261364106, -1.1525584323))
            Line((-10.261364106, -1.1525584323), (-46.4455934617, -14.80710447))
        make_face()
        with BuildLine():
            ThreePointArc((-10.3994681034, -47.6266160667), (-5.2299184368, -48.4674266693), (0, -48.7487794185))
            Line((0, -48.7487794185), (0, -10.3258890298))
            ThreePointArc((0, -10.3258890298), (-2.1108437868, -10.1078347218), (-4.1325371712, -9.4628812094))
            Line((-4.1325371712, -9.4628812094), (-10.3994681034, -47.6266160667))
        make_face()
        with BuildLine():
            Line((0, 7.016177114), (0, 10.3258890298))
            ThreePointArc((0, 10.3258890298), (-2.1108437868, 10.1078347218), (-4.1325371712, 9.4628812094))
            ThreePointArc((-4.1325371712, 9.4628812094), (-5.1629445149, 8.9424822164), (-6.1288269347, 8.3103227771))
            ThreePointArc((-6.1288269347, 8.3103227771), (-8.9424822164, 5.1629445149), (-10.261364106, 1.1525584323))
            ThreePointArc((-10.261364106, 1.1525584323), (-10.3258890298, 0), (-10.261364106, -1.1525584323))
            ThreePointArc((-10.261364106, -1.1525584323), (-8.9424822164, -5.1629445149), (-6.1288269347, -8.3103227771))
            ThreePointArc((-6.1288269347, -8.3103227771), (-5.1629445149, -8.9424822164), (-4.1325371712, -9.4628812094))
            ThreePointArc((-4.1325371712, -9.4628812094), (-2.1108437868, -10.1078347218), (0, -10.3258890298))
            Line((0, -10.3258890298), (0, -7.016177114))
            ThreePointArc((0, -7.016177114), (-7.016177114, 0), (0, 7.016177114))
        make_face()
        with BuildLine():
            ThreePointArc((4.1325371712, 9.4628812094), (2.1108437868, 10.1078347218), (0, 10.3258890298))
            Line((0, 10.3258890298), (0, 7.016177114))
            ThreePointArc((0, 7.016177114), (4.9611864153, 4.9611864153), (7.016177114, 0))
            ThreePointArc((7.016177114, 0), (4.9611864153, -4.9611864153), (0, -7.016177114))
            Line((0, -7.016177114), (0, -10.3258890298))
            ThreePointArc((0, -10.3258890298), (2.1108437868, -10.1078347218), (4.1325371712, -9.4628812094))
            ThreePointArc((4.1325371712, -9.4628812094), (5.1629445149, -8.9424822164), (6.1288269347, -8.3103227771))
            ThreePointArc((6.1288269347, -8.3103227771), (8.9424822164, -5.1629445149), (10.261364106, -1.1525584323))
            ThreePointArc((10.261364106, -1.1525584323), (10.3097451789, -0.5771816018), (10.3258890298, 0))
            ThreePointArc((10.3258890298, 0), (10.3097451789, 0.5771816018), (10.261364106, 1.1525584323))
            ThreePointArc((10.261364106, 1.1525584323), (8.9424822164, 5.1629445149), (6.1288269347, 8.3103227771))
            ThreePointArc((6.1288269347, 8.3103227771), (5.1629445149, 8.9424822164), (4.1325371712, 9.4628812094))
        make_face()
    extrude(amount=F1_DEPTH)


solid = f1.part
